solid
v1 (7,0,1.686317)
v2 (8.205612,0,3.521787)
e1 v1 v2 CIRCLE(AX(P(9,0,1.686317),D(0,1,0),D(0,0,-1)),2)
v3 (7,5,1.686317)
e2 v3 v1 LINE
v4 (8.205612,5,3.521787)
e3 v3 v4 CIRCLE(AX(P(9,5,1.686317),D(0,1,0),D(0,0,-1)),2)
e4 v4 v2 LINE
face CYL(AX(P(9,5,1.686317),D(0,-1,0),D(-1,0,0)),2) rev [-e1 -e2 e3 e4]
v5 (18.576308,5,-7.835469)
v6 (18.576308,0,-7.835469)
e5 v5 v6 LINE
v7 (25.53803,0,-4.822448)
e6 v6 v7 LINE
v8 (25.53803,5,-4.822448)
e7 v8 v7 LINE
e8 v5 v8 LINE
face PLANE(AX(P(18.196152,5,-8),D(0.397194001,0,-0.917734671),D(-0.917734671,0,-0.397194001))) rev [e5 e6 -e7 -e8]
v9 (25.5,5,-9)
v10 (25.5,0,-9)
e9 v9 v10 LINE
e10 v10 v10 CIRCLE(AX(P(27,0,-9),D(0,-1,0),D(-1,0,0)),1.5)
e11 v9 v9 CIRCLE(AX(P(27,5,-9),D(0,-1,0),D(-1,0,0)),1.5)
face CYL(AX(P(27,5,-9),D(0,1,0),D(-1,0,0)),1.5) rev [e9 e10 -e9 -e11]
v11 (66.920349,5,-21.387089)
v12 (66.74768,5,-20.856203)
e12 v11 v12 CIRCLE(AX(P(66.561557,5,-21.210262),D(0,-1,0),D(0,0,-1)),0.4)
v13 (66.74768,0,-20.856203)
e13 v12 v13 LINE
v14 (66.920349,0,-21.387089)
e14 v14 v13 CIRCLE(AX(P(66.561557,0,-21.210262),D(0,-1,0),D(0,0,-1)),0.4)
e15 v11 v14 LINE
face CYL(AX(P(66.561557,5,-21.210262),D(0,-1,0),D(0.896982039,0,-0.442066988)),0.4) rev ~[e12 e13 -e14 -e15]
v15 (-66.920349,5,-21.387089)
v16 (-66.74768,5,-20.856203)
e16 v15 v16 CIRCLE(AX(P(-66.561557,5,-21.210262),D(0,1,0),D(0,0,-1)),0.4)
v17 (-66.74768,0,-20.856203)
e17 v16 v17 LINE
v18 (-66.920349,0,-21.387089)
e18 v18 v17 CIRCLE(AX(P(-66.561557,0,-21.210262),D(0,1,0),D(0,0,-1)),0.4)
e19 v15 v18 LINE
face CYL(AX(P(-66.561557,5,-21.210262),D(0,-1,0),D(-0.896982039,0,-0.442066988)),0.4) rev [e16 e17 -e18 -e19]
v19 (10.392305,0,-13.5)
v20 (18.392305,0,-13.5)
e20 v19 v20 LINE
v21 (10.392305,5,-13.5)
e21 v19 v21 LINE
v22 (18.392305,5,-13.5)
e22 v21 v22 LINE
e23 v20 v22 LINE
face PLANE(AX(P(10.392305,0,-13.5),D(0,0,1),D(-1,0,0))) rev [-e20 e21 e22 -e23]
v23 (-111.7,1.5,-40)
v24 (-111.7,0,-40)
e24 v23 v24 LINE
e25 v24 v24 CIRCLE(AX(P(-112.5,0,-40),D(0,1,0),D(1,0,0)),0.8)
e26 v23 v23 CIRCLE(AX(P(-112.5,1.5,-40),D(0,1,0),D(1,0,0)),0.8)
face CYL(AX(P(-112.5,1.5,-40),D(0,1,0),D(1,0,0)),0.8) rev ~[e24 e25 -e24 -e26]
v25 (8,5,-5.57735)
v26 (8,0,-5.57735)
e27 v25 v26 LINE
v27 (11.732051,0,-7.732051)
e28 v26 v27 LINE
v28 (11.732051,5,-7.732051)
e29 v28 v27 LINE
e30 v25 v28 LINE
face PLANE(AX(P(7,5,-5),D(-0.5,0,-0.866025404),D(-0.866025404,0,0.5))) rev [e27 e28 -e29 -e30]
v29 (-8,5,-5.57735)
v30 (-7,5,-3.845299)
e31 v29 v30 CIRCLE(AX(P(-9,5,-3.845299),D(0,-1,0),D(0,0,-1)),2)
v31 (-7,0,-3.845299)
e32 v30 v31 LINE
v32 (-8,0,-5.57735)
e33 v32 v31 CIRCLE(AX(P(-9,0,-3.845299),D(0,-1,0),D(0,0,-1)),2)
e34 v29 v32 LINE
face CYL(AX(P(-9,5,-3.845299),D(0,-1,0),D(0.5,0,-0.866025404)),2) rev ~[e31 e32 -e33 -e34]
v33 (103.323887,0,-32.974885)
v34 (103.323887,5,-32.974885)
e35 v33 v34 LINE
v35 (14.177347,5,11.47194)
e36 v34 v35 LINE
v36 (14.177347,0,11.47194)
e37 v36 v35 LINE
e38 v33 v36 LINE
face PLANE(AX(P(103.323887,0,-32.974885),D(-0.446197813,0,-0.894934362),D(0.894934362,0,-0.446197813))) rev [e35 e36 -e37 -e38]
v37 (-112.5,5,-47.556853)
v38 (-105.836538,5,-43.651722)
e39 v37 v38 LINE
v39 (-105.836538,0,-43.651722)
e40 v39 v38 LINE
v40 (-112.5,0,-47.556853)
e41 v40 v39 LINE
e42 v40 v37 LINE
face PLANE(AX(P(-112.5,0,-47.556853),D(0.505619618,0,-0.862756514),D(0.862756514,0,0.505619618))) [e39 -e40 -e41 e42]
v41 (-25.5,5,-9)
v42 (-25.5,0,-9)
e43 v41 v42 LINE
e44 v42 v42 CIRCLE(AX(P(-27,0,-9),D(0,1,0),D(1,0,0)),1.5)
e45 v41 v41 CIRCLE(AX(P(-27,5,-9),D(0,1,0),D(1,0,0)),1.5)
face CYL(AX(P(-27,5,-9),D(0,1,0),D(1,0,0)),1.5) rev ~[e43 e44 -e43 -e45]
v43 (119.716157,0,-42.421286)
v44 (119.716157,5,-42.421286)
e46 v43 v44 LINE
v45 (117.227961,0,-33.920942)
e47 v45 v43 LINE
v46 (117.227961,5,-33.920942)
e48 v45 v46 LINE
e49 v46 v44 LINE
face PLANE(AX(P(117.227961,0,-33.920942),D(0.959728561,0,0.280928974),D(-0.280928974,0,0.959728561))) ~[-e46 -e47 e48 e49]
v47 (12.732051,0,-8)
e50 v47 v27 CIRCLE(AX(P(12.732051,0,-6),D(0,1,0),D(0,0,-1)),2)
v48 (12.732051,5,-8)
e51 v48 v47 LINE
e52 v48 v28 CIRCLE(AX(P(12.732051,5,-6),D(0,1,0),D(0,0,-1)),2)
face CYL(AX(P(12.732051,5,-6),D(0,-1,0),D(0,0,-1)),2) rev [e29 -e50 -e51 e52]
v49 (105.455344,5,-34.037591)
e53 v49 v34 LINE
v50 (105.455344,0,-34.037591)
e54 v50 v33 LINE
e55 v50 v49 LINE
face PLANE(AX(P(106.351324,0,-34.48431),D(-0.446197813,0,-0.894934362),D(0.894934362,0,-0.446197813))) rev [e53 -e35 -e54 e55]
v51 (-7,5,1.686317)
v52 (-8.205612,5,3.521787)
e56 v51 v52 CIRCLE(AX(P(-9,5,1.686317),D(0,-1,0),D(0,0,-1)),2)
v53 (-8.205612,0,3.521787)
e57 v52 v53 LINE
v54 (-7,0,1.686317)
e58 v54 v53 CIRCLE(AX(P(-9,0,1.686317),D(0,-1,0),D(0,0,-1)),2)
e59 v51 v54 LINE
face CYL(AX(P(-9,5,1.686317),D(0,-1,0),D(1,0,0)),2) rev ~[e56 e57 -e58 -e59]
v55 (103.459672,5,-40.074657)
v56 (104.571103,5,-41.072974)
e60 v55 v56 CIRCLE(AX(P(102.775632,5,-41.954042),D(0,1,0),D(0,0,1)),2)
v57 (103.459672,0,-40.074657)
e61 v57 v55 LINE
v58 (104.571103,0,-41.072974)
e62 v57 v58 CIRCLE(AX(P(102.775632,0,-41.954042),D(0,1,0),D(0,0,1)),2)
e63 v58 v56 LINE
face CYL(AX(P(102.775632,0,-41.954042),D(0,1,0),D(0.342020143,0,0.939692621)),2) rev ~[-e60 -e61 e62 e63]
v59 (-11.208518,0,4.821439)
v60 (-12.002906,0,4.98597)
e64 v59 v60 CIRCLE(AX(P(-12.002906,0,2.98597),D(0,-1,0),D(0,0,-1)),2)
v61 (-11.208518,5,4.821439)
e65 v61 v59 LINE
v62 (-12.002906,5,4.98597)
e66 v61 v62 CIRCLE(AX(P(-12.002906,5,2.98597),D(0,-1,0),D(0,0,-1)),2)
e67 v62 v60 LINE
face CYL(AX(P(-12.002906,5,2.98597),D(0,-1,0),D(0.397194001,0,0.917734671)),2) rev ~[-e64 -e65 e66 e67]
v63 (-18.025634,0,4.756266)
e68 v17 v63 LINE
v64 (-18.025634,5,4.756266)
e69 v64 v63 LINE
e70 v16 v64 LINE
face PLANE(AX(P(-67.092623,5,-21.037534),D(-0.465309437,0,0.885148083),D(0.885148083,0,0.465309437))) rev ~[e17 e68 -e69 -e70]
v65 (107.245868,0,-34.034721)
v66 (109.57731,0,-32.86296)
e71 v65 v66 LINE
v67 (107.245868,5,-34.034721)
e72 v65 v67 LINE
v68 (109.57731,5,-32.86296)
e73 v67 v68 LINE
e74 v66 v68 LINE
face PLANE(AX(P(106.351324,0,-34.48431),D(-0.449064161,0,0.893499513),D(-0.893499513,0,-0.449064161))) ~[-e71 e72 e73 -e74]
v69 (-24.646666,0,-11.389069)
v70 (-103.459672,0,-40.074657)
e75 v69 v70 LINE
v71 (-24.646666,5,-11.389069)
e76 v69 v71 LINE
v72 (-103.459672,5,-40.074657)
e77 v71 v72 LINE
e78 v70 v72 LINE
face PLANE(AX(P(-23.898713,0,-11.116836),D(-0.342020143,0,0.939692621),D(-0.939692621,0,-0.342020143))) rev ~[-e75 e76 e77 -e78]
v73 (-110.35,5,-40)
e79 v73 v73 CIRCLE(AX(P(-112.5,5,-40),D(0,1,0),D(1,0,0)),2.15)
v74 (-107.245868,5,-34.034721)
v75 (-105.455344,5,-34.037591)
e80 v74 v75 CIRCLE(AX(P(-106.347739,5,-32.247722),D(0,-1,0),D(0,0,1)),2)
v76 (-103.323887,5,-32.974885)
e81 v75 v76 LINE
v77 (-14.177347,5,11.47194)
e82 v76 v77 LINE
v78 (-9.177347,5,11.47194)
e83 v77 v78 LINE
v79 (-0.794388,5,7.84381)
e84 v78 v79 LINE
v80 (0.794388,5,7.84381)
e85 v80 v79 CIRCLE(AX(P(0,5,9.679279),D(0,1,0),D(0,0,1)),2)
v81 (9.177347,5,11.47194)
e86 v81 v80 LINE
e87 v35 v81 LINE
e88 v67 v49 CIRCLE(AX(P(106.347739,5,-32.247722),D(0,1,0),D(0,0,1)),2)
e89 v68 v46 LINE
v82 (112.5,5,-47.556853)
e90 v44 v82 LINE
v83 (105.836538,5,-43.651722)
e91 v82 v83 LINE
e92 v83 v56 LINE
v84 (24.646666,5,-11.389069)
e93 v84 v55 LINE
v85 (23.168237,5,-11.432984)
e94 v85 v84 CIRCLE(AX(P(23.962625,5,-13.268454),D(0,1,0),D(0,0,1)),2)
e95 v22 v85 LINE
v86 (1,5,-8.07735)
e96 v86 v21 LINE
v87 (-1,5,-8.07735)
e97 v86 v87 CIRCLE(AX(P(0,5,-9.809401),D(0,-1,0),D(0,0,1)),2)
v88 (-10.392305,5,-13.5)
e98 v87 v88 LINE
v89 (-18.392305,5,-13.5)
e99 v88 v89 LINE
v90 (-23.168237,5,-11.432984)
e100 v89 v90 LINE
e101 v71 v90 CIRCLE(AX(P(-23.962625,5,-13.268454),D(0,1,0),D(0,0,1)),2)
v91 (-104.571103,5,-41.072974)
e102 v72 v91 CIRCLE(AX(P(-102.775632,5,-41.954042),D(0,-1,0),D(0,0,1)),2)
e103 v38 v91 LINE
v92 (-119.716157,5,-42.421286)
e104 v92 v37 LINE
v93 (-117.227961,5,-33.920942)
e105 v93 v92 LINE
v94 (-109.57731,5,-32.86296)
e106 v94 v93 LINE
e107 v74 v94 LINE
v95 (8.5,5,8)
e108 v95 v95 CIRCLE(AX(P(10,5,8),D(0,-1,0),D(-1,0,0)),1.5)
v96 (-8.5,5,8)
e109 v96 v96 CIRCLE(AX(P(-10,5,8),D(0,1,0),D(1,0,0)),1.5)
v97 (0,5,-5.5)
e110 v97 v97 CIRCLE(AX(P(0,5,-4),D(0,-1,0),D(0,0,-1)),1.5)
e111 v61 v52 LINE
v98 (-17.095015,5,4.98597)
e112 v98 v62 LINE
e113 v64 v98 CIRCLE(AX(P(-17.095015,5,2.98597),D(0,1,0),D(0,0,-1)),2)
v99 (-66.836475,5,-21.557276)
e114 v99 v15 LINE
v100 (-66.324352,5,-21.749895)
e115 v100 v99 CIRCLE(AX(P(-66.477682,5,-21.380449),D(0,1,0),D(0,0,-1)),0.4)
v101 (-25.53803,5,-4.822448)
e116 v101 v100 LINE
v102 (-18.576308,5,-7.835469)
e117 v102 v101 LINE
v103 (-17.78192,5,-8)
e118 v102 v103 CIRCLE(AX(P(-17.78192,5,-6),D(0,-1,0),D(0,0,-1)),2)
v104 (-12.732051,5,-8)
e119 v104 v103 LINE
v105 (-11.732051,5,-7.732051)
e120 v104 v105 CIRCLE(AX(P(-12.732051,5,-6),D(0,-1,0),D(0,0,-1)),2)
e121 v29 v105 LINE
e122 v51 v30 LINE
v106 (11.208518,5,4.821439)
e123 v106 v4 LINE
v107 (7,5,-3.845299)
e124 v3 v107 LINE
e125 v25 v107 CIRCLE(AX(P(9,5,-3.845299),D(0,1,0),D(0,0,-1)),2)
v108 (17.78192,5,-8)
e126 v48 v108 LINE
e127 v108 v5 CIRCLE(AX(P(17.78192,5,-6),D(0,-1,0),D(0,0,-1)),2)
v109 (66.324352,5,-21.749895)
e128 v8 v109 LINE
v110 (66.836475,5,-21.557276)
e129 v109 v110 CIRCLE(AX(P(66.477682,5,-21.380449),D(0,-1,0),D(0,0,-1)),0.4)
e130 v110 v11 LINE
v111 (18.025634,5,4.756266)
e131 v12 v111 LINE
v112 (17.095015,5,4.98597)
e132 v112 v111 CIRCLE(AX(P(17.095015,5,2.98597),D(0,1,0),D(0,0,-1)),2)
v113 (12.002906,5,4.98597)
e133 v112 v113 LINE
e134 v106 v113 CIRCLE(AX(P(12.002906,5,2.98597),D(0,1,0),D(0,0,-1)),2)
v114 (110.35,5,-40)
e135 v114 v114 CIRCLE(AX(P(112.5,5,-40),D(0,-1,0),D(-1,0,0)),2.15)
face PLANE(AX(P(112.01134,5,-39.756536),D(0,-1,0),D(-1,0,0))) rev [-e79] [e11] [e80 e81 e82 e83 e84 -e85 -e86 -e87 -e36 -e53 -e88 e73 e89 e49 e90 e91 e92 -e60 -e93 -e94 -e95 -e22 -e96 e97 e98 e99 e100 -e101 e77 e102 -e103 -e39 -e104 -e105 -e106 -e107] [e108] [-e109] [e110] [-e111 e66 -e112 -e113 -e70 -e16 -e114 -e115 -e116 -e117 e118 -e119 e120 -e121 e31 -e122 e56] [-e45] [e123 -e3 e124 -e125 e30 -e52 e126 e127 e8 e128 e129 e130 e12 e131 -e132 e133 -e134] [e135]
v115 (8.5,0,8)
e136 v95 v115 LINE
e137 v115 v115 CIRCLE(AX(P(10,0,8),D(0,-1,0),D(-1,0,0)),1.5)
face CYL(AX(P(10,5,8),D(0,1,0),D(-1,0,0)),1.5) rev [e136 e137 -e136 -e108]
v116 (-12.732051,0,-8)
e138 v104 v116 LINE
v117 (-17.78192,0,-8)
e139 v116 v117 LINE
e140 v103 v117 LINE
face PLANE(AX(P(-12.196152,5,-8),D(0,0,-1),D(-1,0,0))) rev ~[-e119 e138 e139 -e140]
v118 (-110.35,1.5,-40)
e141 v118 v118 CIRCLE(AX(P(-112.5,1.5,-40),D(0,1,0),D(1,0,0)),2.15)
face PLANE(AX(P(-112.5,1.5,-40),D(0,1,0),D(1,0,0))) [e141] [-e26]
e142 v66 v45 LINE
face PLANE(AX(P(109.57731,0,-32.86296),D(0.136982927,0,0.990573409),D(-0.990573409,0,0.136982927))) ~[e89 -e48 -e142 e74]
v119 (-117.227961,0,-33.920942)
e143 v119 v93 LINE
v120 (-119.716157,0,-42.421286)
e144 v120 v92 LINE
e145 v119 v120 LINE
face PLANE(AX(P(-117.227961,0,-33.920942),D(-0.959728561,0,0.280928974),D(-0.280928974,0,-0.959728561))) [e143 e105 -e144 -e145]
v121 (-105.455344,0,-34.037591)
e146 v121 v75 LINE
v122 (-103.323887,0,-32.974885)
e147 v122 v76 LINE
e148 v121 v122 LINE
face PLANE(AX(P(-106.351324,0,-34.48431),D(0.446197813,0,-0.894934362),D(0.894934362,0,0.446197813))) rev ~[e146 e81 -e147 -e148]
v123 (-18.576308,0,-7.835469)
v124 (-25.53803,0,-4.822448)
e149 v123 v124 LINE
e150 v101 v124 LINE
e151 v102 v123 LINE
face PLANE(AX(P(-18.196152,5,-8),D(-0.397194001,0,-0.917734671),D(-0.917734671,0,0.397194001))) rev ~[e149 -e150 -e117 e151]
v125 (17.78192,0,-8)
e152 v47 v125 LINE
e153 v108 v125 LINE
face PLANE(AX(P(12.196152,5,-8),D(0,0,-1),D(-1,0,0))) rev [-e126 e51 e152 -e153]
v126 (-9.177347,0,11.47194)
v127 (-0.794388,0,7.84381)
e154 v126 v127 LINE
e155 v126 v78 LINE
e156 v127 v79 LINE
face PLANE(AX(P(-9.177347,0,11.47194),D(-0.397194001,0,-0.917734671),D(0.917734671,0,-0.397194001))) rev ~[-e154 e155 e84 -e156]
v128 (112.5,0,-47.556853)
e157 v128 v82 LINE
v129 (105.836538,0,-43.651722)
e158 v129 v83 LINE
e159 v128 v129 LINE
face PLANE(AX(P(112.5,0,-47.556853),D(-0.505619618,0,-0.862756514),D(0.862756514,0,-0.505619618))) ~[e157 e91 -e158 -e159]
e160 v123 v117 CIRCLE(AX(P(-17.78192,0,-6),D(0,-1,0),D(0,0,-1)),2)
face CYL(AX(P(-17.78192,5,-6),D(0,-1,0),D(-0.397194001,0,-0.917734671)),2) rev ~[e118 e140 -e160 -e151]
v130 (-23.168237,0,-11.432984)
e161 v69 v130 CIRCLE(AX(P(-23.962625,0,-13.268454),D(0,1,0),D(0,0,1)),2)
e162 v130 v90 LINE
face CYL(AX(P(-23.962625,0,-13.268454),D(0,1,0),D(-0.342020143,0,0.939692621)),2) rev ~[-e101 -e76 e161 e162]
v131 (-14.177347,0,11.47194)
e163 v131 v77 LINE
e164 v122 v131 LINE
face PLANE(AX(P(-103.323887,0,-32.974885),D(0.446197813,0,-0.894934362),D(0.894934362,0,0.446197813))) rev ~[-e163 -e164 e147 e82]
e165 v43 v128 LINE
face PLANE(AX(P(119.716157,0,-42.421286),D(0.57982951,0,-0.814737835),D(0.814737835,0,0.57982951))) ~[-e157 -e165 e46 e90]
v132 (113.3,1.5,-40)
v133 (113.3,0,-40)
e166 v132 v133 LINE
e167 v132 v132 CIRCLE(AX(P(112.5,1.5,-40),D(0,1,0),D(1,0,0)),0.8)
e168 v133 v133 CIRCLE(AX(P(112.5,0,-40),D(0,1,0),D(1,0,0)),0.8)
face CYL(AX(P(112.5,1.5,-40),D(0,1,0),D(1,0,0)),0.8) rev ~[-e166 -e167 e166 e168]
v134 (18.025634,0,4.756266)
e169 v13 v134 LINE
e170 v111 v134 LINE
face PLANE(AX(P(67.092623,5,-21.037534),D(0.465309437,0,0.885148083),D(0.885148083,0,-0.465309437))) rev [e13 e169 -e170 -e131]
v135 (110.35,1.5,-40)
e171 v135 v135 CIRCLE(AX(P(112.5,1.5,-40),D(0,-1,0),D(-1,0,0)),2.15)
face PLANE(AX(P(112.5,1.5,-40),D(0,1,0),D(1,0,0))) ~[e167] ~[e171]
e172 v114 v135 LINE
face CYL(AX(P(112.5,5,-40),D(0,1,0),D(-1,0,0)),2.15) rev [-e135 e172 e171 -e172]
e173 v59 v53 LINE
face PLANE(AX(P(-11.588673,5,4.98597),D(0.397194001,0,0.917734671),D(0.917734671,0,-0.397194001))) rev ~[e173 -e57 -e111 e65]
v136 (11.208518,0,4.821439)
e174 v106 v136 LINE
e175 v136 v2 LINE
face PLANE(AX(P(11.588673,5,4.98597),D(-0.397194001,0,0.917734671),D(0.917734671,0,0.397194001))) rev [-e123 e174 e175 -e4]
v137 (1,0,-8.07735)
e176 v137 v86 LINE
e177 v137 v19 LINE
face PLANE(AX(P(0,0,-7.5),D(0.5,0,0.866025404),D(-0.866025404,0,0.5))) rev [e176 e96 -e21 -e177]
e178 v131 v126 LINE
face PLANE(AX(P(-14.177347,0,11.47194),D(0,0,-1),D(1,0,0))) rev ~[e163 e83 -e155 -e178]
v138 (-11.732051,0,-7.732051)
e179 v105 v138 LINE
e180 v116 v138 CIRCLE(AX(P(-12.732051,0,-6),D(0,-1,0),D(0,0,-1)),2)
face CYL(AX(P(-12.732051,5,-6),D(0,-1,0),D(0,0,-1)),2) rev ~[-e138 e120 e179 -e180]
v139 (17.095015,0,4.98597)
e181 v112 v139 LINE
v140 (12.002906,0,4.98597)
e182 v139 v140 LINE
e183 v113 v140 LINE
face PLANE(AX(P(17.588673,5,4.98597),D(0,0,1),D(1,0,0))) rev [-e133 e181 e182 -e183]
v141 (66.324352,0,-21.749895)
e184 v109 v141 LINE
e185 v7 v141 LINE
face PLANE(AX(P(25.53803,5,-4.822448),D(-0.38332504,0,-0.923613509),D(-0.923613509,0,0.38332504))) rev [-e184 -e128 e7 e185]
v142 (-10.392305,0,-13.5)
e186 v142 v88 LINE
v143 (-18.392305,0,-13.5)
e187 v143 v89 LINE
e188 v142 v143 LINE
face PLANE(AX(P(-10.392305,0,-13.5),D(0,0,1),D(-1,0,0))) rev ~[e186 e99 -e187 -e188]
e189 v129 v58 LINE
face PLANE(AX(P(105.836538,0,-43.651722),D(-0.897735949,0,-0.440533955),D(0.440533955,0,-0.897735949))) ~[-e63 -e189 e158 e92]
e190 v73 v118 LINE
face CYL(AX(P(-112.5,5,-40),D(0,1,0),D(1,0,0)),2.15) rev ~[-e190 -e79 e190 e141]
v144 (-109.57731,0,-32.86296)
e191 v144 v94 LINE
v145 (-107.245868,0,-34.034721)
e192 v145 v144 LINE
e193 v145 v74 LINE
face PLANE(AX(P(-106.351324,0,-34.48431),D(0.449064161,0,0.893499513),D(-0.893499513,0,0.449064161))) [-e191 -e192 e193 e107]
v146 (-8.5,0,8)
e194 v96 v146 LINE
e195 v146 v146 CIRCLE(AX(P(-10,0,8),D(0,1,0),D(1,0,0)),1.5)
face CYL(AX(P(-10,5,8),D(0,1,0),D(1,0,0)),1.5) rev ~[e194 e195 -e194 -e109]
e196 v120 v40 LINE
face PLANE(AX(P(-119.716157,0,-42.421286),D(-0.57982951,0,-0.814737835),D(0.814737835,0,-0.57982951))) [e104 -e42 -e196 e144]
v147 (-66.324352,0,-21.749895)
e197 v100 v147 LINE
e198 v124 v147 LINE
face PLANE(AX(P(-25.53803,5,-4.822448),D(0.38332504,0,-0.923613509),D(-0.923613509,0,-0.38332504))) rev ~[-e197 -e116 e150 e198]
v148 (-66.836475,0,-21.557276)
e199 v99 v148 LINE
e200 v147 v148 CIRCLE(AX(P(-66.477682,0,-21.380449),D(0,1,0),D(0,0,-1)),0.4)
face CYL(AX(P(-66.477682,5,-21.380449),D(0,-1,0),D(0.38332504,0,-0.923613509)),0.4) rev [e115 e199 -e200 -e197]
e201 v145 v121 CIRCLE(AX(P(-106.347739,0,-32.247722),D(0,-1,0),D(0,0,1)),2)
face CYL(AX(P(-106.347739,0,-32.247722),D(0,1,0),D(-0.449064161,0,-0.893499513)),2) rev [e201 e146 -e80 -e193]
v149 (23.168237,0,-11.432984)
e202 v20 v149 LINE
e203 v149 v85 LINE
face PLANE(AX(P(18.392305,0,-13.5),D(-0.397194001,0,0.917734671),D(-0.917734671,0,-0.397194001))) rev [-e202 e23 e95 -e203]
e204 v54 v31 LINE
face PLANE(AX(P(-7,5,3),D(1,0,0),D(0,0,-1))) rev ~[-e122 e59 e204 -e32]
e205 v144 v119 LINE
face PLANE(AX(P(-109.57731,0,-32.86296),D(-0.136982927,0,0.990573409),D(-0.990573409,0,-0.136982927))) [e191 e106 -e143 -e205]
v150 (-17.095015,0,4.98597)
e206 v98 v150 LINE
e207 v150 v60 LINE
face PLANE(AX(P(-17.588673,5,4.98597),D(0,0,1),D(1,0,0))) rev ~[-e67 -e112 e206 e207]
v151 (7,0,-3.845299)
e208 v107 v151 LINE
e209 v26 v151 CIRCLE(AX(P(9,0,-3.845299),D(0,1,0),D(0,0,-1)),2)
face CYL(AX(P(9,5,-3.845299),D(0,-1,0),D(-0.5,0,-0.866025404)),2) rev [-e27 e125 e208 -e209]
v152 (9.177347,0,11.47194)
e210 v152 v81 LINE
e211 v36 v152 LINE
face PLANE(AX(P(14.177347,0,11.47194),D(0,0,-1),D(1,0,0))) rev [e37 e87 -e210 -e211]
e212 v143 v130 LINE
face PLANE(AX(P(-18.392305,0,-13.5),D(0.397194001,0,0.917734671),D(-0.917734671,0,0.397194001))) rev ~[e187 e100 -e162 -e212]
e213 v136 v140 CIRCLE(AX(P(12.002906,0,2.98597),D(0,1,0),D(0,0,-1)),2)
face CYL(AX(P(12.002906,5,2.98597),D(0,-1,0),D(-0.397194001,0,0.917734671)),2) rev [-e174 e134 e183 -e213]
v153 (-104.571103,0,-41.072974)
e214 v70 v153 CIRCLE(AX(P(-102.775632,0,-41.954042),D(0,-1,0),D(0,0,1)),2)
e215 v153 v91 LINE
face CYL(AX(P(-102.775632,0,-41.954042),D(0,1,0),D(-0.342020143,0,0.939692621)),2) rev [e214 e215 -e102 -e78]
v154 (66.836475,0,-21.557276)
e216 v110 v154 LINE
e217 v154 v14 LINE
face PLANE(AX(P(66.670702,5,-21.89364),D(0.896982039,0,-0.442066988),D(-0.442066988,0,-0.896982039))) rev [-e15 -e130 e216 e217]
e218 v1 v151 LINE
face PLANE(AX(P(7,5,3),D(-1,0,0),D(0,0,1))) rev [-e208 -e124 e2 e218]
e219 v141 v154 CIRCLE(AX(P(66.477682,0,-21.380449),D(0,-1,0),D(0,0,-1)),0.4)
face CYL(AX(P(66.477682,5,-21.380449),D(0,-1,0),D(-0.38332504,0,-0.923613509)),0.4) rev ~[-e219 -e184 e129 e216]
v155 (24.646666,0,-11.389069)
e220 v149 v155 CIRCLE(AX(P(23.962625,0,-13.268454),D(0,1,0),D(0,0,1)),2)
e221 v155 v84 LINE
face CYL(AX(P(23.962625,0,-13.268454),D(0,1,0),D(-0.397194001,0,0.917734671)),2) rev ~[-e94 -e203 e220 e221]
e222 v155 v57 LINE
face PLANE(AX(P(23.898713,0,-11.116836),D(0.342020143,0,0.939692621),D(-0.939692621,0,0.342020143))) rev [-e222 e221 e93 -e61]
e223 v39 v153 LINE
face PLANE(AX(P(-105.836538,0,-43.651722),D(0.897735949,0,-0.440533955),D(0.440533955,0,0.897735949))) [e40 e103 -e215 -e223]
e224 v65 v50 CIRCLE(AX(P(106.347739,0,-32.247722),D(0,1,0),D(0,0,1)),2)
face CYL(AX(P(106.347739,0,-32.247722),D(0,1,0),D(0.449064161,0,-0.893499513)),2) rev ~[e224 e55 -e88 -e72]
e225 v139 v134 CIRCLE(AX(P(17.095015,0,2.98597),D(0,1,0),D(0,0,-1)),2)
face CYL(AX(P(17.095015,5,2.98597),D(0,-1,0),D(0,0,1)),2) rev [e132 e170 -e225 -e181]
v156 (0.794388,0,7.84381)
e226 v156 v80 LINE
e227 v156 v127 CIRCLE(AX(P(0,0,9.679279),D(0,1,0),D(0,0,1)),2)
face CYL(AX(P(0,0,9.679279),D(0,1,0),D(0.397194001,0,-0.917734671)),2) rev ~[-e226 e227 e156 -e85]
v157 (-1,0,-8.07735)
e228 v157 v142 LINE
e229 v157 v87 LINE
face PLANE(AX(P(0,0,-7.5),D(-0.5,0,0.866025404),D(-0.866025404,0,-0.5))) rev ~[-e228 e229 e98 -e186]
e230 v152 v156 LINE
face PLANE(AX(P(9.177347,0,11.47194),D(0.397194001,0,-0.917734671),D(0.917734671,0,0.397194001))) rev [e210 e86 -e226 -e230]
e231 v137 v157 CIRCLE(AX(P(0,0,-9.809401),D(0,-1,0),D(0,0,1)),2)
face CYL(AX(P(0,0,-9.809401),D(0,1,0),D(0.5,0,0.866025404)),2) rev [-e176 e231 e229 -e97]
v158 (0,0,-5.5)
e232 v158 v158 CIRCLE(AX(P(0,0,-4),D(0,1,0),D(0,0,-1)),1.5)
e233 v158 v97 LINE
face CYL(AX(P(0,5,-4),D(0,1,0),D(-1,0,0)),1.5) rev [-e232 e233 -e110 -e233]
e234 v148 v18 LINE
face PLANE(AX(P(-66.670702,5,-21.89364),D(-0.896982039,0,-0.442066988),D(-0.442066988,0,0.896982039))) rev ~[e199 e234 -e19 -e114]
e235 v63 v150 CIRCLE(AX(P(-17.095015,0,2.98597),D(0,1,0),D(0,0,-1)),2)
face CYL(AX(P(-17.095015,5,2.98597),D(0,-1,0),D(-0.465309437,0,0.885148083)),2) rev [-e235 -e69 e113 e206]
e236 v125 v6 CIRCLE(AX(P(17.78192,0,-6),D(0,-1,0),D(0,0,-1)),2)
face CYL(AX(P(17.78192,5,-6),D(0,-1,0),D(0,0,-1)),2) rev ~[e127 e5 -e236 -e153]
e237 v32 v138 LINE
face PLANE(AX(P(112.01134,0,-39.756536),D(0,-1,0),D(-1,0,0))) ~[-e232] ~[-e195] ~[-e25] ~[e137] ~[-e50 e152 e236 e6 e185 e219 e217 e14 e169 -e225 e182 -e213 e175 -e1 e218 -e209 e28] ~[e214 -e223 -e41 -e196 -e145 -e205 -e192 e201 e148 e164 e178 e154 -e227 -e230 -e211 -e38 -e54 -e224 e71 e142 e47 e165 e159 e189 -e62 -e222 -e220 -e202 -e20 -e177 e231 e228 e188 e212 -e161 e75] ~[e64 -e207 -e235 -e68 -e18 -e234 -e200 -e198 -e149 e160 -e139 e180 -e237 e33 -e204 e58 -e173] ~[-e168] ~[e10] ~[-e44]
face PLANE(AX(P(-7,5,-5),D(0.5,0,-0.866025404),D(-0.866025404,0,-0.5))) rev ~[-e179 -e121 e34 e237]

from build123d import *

# Parameters (mm, degrees)
EXTRUDE_1_DEPTH        = 5
EXTRUDE_2_DEPTH        = 5
SKETCH_5_R             = 2.15
CUT_EXTRUDE_3_DEPTH    = 3.5
CUT_EXTRUDE_4_DEPTH    = 5
SKETCH_8_R             = 1.5
CUT_EXTRUDE_5_DEPTH    = 5
FILLET_1_R             = 2
FILLET_2_R             = 0.4
FILLET_4_R             = 2
FILLET_1_OF_MIRROR_2_R = 2
FILLET_2_OF_MIRROR_2_R = 0.4
FILLET_4_OF_MIRROR_2_R = 2
FILLET_3_R             = 2
SKETCH_10_R            = 0.8
CUT_EXTRUDE_6_DEPTH    = 10


with BuildPart() as part:
    # 草图2 → 凸台-拉伸1 (new body)
    with BuildSketch(Plane(origin=(0, 0, 0), x_dir=(1, 0, 0), z_dir=(0, 1, 0))):
        Polygon((0, -7.5), (0, 7.5), (-10.392304845, 13.5), (-18.392304845, 13.5), (-23.898712869, 11.116835995), (-104.216362147, 40.350069618), (-106.3513241, 34.484309861), (-103.323886643, 32.974885226), (-14.177346707, -11.471940008), (-9.177346707, -11.471940008), align=None)
    extrude_1 = extrude(amount=EXTRUDE_1_DEPTH)

    # 草图4 → 凸台-拉伸2 (add)
    with BuildSketch(Plane(origin=(0, 0, 0), x_dir=(1, 0, 0), z_dir=(0, 1, 0))):
        Polygon((-105.836537935, 43.651722154), (-104.216362147, 40.350069618), (-106.3513241, 34.484309861), (-109.577310483, 32.862960495), (-117.227960723, 33.920942119), (-119.716156877, 42.421286113), (-112.5, 47.556853078), align=None)
    extrude_2 = extrude(amount=EXTRUDE_2_DEPTH)

    # 草图5 → 切除-拉伸3 (cut)
    with BuildSketch(Plane(origin=(0, 5, 0), x_dir=(1, 0, 0), z_dir=(0, 1, 0))):
        with Locations((-112.5, 40)):
            Circle(SKETCH_5_R)
    cut_extrude_3 = extrude(amount=-CUT_EXTRUDE_3_DEPTH, mode=Mode.SUBTRACT)

    # 草图6 → 切除-拉伸4 (cut)
    with BuildSketch(Plane(origin=(0, 5, 0), x_dir=(1, 0, 0), z_dir=(0, 1, 0))):
        Polygon((-25.538029788, 4.822447994), (-66.670701963, 21.893639642), (-67.092623285, 21.03753444), (-17.588673353, -4.985970004), (-11.588673353, -4.985970004), (-7, -3), (-7, 0), (-7, 5), (-12.196152423, 8), (-18.196152423, 8), align=None)
    cut_extrude_4 = extrude(amount=-CUT_EXTRUDE_4_DEPTH, mode=Mode.SUBTRACT)

    # 草图8 → 切除-拉伸5 (cut)
    with BuildSketch(Plane(origin=(0, 5, 0), x_dir=(1, 0, 0), z_dir=(0, 1, 0))):
        with Locations((0, 4)):
            Circle(SKETCH_8_R)
        with Locations((-10, -8)):
            Circle(SKETCH_8_R)
        with Locations((-27, 9)):
            Circle(SKETCH_8_R)
    cut_extrude_5 = extrude(amount=-CUT_EXTRUDE_5_DEPTH, mode=Mode.SUBTRACT)

    # 圆角1
    fillet_1_edges = [part.edges().sort_by_distance(p)[0] for p in [
        (-23.898712869, 2.5, -11.116835995),
        (-18.196152423, 2.5, -8),
        (-12.196152423, 2.5, -8),
        (-7, 2.5, -5),
        (-7, 2.5, 3),
        (-11.588673353, 2.5, 4.985970004),
        (-17.588673353, 2.5, 4.985970004),
    ]]
    fillet(fillet_1_edges, radius=FILLET_1_R)

    # 圆角2
    fillet_2_edges = [part.edges().sort_by_distance(p)[0] for p in [
        (-67.092623285, 2.5, -21.03753444),
        (-66.670701963, 2.5, -21.893639642),
    ]]
    fillet(fillet_2_edges, radius=FILLET_2_R)

    # 圆角4
    fillet_4_edges = [part.edges().sort_by_distance(p)[0] for p in [
        (-106.3513241, 2.5, -34.484309861),
        (-104.216362147, 2.5, -40.350069618),
    ]]
    fillet(fillet_4_edges, radius=FILLET_4_R)

    # 镜向2: 凸台-拉伸1, 凸台-拉伸2, 切除-拉伸3, 切除-拉伸4, 切除-拉伸5 across Right Plane
    add(extrude_1.mirror(Plane(origin=(0, 0, 0), x_dir=(0, 0, -1), z_dir=(1, 0, 0))))
    add(extrude_2.mirror(Plane(origin=(0, 0, 0), x_dir=(0, 0, -1), z_dir=(1, 0, 0))))
    add(cut_extrude_3.mirror(Plane(origin=(0, 0, 0), x_dir=(0, 0, -1), z_dir=(1, 0, 0))), mode=Mode.SUBTRACT)
    add(cut_extrude_4.mirror(Plane(origin=(0, 0, 0), x_dir=(0, 0, -1), z_dir=(1, 0, 0))), mode=Mode.SUBTRACT)
    add(cut_extrude_5.mirror(Plane(origin=(0, 0, 0), x_dir=(0, 0, -1), z_dir=(1, 0, 0))), mode=Mode.SUBTRACT)

    # 圆角1 of 镜向2
    fillet_1_of_mirror_2_edges = [part.edges().sort_by_distance(p)[0] for p in [
        (23.898712869, 2.5, -11.116835995),
        (18.196152423, 2.5, -8),
        (12.196152423, 2.5, -8),
        (7, 2.5, -5),
        (7, 2.5, 3),
        (11.588673353, 2.5, 4.985970004),
        (17.588673353, 2.5, 4.985970004),
    ]]
    fillet(fillet_1_of_mirror_2_edges, radius=FILLET_1_OF_MIRROR_2_R)

    # 圆角2 of 镜向2
    fillet_2_of_mirror_2_edges = [part.edges().sort_by_distance(p)[0] for p in [
        (67.092623285, 2.5, -21.03753444),
        (66.670701963, 2.5, -21.893639642),
    ]]
    fillet(fillet_2_of_mirror_2_edges, radius=FILLET_2_OF_MIRROR_2_R)

    # 圆角4 of 镜向2
    fillet_4_of_mirror_2_edges = [part.edges().sort_by_distance(p)[0] for p in [
        (106.3513241, 2.5, -34.484309861),
        (104.216362147, 2.5, -40.350069618),
    ]]
    fillet(fillet_4_of_mirror_2_edges, radius=FILLET_4_OF_MIRROR_2_R)

    # 圆角3
    fillet_3_edges = [part.edges().sort_by_distance(p)[0] for p in [
        (0, 2.5, -7.5),
        (0, 2.5, 7.5),
    ]]
    fillet(fillet_3_edges, radius=FILLET_3_R)

    # 草图10 → 切除-拉伸6 (cut)
    with BuildSketch(Plane(origin=(0, 1.5, 0), x_dir=(1, 0, 0), z_dir=(0, 1, 0))):
        with Locations((-112.5, 40)):
            Circle(SKETCH_10_R)
        with Locations((112.5, 40)):
            Circle(SKETCH_10_R)
    extrude(amount=-CUT_EXTRUDE_6_DEPTH, mode=Mode.SUBTRACT)


solid = part.part
